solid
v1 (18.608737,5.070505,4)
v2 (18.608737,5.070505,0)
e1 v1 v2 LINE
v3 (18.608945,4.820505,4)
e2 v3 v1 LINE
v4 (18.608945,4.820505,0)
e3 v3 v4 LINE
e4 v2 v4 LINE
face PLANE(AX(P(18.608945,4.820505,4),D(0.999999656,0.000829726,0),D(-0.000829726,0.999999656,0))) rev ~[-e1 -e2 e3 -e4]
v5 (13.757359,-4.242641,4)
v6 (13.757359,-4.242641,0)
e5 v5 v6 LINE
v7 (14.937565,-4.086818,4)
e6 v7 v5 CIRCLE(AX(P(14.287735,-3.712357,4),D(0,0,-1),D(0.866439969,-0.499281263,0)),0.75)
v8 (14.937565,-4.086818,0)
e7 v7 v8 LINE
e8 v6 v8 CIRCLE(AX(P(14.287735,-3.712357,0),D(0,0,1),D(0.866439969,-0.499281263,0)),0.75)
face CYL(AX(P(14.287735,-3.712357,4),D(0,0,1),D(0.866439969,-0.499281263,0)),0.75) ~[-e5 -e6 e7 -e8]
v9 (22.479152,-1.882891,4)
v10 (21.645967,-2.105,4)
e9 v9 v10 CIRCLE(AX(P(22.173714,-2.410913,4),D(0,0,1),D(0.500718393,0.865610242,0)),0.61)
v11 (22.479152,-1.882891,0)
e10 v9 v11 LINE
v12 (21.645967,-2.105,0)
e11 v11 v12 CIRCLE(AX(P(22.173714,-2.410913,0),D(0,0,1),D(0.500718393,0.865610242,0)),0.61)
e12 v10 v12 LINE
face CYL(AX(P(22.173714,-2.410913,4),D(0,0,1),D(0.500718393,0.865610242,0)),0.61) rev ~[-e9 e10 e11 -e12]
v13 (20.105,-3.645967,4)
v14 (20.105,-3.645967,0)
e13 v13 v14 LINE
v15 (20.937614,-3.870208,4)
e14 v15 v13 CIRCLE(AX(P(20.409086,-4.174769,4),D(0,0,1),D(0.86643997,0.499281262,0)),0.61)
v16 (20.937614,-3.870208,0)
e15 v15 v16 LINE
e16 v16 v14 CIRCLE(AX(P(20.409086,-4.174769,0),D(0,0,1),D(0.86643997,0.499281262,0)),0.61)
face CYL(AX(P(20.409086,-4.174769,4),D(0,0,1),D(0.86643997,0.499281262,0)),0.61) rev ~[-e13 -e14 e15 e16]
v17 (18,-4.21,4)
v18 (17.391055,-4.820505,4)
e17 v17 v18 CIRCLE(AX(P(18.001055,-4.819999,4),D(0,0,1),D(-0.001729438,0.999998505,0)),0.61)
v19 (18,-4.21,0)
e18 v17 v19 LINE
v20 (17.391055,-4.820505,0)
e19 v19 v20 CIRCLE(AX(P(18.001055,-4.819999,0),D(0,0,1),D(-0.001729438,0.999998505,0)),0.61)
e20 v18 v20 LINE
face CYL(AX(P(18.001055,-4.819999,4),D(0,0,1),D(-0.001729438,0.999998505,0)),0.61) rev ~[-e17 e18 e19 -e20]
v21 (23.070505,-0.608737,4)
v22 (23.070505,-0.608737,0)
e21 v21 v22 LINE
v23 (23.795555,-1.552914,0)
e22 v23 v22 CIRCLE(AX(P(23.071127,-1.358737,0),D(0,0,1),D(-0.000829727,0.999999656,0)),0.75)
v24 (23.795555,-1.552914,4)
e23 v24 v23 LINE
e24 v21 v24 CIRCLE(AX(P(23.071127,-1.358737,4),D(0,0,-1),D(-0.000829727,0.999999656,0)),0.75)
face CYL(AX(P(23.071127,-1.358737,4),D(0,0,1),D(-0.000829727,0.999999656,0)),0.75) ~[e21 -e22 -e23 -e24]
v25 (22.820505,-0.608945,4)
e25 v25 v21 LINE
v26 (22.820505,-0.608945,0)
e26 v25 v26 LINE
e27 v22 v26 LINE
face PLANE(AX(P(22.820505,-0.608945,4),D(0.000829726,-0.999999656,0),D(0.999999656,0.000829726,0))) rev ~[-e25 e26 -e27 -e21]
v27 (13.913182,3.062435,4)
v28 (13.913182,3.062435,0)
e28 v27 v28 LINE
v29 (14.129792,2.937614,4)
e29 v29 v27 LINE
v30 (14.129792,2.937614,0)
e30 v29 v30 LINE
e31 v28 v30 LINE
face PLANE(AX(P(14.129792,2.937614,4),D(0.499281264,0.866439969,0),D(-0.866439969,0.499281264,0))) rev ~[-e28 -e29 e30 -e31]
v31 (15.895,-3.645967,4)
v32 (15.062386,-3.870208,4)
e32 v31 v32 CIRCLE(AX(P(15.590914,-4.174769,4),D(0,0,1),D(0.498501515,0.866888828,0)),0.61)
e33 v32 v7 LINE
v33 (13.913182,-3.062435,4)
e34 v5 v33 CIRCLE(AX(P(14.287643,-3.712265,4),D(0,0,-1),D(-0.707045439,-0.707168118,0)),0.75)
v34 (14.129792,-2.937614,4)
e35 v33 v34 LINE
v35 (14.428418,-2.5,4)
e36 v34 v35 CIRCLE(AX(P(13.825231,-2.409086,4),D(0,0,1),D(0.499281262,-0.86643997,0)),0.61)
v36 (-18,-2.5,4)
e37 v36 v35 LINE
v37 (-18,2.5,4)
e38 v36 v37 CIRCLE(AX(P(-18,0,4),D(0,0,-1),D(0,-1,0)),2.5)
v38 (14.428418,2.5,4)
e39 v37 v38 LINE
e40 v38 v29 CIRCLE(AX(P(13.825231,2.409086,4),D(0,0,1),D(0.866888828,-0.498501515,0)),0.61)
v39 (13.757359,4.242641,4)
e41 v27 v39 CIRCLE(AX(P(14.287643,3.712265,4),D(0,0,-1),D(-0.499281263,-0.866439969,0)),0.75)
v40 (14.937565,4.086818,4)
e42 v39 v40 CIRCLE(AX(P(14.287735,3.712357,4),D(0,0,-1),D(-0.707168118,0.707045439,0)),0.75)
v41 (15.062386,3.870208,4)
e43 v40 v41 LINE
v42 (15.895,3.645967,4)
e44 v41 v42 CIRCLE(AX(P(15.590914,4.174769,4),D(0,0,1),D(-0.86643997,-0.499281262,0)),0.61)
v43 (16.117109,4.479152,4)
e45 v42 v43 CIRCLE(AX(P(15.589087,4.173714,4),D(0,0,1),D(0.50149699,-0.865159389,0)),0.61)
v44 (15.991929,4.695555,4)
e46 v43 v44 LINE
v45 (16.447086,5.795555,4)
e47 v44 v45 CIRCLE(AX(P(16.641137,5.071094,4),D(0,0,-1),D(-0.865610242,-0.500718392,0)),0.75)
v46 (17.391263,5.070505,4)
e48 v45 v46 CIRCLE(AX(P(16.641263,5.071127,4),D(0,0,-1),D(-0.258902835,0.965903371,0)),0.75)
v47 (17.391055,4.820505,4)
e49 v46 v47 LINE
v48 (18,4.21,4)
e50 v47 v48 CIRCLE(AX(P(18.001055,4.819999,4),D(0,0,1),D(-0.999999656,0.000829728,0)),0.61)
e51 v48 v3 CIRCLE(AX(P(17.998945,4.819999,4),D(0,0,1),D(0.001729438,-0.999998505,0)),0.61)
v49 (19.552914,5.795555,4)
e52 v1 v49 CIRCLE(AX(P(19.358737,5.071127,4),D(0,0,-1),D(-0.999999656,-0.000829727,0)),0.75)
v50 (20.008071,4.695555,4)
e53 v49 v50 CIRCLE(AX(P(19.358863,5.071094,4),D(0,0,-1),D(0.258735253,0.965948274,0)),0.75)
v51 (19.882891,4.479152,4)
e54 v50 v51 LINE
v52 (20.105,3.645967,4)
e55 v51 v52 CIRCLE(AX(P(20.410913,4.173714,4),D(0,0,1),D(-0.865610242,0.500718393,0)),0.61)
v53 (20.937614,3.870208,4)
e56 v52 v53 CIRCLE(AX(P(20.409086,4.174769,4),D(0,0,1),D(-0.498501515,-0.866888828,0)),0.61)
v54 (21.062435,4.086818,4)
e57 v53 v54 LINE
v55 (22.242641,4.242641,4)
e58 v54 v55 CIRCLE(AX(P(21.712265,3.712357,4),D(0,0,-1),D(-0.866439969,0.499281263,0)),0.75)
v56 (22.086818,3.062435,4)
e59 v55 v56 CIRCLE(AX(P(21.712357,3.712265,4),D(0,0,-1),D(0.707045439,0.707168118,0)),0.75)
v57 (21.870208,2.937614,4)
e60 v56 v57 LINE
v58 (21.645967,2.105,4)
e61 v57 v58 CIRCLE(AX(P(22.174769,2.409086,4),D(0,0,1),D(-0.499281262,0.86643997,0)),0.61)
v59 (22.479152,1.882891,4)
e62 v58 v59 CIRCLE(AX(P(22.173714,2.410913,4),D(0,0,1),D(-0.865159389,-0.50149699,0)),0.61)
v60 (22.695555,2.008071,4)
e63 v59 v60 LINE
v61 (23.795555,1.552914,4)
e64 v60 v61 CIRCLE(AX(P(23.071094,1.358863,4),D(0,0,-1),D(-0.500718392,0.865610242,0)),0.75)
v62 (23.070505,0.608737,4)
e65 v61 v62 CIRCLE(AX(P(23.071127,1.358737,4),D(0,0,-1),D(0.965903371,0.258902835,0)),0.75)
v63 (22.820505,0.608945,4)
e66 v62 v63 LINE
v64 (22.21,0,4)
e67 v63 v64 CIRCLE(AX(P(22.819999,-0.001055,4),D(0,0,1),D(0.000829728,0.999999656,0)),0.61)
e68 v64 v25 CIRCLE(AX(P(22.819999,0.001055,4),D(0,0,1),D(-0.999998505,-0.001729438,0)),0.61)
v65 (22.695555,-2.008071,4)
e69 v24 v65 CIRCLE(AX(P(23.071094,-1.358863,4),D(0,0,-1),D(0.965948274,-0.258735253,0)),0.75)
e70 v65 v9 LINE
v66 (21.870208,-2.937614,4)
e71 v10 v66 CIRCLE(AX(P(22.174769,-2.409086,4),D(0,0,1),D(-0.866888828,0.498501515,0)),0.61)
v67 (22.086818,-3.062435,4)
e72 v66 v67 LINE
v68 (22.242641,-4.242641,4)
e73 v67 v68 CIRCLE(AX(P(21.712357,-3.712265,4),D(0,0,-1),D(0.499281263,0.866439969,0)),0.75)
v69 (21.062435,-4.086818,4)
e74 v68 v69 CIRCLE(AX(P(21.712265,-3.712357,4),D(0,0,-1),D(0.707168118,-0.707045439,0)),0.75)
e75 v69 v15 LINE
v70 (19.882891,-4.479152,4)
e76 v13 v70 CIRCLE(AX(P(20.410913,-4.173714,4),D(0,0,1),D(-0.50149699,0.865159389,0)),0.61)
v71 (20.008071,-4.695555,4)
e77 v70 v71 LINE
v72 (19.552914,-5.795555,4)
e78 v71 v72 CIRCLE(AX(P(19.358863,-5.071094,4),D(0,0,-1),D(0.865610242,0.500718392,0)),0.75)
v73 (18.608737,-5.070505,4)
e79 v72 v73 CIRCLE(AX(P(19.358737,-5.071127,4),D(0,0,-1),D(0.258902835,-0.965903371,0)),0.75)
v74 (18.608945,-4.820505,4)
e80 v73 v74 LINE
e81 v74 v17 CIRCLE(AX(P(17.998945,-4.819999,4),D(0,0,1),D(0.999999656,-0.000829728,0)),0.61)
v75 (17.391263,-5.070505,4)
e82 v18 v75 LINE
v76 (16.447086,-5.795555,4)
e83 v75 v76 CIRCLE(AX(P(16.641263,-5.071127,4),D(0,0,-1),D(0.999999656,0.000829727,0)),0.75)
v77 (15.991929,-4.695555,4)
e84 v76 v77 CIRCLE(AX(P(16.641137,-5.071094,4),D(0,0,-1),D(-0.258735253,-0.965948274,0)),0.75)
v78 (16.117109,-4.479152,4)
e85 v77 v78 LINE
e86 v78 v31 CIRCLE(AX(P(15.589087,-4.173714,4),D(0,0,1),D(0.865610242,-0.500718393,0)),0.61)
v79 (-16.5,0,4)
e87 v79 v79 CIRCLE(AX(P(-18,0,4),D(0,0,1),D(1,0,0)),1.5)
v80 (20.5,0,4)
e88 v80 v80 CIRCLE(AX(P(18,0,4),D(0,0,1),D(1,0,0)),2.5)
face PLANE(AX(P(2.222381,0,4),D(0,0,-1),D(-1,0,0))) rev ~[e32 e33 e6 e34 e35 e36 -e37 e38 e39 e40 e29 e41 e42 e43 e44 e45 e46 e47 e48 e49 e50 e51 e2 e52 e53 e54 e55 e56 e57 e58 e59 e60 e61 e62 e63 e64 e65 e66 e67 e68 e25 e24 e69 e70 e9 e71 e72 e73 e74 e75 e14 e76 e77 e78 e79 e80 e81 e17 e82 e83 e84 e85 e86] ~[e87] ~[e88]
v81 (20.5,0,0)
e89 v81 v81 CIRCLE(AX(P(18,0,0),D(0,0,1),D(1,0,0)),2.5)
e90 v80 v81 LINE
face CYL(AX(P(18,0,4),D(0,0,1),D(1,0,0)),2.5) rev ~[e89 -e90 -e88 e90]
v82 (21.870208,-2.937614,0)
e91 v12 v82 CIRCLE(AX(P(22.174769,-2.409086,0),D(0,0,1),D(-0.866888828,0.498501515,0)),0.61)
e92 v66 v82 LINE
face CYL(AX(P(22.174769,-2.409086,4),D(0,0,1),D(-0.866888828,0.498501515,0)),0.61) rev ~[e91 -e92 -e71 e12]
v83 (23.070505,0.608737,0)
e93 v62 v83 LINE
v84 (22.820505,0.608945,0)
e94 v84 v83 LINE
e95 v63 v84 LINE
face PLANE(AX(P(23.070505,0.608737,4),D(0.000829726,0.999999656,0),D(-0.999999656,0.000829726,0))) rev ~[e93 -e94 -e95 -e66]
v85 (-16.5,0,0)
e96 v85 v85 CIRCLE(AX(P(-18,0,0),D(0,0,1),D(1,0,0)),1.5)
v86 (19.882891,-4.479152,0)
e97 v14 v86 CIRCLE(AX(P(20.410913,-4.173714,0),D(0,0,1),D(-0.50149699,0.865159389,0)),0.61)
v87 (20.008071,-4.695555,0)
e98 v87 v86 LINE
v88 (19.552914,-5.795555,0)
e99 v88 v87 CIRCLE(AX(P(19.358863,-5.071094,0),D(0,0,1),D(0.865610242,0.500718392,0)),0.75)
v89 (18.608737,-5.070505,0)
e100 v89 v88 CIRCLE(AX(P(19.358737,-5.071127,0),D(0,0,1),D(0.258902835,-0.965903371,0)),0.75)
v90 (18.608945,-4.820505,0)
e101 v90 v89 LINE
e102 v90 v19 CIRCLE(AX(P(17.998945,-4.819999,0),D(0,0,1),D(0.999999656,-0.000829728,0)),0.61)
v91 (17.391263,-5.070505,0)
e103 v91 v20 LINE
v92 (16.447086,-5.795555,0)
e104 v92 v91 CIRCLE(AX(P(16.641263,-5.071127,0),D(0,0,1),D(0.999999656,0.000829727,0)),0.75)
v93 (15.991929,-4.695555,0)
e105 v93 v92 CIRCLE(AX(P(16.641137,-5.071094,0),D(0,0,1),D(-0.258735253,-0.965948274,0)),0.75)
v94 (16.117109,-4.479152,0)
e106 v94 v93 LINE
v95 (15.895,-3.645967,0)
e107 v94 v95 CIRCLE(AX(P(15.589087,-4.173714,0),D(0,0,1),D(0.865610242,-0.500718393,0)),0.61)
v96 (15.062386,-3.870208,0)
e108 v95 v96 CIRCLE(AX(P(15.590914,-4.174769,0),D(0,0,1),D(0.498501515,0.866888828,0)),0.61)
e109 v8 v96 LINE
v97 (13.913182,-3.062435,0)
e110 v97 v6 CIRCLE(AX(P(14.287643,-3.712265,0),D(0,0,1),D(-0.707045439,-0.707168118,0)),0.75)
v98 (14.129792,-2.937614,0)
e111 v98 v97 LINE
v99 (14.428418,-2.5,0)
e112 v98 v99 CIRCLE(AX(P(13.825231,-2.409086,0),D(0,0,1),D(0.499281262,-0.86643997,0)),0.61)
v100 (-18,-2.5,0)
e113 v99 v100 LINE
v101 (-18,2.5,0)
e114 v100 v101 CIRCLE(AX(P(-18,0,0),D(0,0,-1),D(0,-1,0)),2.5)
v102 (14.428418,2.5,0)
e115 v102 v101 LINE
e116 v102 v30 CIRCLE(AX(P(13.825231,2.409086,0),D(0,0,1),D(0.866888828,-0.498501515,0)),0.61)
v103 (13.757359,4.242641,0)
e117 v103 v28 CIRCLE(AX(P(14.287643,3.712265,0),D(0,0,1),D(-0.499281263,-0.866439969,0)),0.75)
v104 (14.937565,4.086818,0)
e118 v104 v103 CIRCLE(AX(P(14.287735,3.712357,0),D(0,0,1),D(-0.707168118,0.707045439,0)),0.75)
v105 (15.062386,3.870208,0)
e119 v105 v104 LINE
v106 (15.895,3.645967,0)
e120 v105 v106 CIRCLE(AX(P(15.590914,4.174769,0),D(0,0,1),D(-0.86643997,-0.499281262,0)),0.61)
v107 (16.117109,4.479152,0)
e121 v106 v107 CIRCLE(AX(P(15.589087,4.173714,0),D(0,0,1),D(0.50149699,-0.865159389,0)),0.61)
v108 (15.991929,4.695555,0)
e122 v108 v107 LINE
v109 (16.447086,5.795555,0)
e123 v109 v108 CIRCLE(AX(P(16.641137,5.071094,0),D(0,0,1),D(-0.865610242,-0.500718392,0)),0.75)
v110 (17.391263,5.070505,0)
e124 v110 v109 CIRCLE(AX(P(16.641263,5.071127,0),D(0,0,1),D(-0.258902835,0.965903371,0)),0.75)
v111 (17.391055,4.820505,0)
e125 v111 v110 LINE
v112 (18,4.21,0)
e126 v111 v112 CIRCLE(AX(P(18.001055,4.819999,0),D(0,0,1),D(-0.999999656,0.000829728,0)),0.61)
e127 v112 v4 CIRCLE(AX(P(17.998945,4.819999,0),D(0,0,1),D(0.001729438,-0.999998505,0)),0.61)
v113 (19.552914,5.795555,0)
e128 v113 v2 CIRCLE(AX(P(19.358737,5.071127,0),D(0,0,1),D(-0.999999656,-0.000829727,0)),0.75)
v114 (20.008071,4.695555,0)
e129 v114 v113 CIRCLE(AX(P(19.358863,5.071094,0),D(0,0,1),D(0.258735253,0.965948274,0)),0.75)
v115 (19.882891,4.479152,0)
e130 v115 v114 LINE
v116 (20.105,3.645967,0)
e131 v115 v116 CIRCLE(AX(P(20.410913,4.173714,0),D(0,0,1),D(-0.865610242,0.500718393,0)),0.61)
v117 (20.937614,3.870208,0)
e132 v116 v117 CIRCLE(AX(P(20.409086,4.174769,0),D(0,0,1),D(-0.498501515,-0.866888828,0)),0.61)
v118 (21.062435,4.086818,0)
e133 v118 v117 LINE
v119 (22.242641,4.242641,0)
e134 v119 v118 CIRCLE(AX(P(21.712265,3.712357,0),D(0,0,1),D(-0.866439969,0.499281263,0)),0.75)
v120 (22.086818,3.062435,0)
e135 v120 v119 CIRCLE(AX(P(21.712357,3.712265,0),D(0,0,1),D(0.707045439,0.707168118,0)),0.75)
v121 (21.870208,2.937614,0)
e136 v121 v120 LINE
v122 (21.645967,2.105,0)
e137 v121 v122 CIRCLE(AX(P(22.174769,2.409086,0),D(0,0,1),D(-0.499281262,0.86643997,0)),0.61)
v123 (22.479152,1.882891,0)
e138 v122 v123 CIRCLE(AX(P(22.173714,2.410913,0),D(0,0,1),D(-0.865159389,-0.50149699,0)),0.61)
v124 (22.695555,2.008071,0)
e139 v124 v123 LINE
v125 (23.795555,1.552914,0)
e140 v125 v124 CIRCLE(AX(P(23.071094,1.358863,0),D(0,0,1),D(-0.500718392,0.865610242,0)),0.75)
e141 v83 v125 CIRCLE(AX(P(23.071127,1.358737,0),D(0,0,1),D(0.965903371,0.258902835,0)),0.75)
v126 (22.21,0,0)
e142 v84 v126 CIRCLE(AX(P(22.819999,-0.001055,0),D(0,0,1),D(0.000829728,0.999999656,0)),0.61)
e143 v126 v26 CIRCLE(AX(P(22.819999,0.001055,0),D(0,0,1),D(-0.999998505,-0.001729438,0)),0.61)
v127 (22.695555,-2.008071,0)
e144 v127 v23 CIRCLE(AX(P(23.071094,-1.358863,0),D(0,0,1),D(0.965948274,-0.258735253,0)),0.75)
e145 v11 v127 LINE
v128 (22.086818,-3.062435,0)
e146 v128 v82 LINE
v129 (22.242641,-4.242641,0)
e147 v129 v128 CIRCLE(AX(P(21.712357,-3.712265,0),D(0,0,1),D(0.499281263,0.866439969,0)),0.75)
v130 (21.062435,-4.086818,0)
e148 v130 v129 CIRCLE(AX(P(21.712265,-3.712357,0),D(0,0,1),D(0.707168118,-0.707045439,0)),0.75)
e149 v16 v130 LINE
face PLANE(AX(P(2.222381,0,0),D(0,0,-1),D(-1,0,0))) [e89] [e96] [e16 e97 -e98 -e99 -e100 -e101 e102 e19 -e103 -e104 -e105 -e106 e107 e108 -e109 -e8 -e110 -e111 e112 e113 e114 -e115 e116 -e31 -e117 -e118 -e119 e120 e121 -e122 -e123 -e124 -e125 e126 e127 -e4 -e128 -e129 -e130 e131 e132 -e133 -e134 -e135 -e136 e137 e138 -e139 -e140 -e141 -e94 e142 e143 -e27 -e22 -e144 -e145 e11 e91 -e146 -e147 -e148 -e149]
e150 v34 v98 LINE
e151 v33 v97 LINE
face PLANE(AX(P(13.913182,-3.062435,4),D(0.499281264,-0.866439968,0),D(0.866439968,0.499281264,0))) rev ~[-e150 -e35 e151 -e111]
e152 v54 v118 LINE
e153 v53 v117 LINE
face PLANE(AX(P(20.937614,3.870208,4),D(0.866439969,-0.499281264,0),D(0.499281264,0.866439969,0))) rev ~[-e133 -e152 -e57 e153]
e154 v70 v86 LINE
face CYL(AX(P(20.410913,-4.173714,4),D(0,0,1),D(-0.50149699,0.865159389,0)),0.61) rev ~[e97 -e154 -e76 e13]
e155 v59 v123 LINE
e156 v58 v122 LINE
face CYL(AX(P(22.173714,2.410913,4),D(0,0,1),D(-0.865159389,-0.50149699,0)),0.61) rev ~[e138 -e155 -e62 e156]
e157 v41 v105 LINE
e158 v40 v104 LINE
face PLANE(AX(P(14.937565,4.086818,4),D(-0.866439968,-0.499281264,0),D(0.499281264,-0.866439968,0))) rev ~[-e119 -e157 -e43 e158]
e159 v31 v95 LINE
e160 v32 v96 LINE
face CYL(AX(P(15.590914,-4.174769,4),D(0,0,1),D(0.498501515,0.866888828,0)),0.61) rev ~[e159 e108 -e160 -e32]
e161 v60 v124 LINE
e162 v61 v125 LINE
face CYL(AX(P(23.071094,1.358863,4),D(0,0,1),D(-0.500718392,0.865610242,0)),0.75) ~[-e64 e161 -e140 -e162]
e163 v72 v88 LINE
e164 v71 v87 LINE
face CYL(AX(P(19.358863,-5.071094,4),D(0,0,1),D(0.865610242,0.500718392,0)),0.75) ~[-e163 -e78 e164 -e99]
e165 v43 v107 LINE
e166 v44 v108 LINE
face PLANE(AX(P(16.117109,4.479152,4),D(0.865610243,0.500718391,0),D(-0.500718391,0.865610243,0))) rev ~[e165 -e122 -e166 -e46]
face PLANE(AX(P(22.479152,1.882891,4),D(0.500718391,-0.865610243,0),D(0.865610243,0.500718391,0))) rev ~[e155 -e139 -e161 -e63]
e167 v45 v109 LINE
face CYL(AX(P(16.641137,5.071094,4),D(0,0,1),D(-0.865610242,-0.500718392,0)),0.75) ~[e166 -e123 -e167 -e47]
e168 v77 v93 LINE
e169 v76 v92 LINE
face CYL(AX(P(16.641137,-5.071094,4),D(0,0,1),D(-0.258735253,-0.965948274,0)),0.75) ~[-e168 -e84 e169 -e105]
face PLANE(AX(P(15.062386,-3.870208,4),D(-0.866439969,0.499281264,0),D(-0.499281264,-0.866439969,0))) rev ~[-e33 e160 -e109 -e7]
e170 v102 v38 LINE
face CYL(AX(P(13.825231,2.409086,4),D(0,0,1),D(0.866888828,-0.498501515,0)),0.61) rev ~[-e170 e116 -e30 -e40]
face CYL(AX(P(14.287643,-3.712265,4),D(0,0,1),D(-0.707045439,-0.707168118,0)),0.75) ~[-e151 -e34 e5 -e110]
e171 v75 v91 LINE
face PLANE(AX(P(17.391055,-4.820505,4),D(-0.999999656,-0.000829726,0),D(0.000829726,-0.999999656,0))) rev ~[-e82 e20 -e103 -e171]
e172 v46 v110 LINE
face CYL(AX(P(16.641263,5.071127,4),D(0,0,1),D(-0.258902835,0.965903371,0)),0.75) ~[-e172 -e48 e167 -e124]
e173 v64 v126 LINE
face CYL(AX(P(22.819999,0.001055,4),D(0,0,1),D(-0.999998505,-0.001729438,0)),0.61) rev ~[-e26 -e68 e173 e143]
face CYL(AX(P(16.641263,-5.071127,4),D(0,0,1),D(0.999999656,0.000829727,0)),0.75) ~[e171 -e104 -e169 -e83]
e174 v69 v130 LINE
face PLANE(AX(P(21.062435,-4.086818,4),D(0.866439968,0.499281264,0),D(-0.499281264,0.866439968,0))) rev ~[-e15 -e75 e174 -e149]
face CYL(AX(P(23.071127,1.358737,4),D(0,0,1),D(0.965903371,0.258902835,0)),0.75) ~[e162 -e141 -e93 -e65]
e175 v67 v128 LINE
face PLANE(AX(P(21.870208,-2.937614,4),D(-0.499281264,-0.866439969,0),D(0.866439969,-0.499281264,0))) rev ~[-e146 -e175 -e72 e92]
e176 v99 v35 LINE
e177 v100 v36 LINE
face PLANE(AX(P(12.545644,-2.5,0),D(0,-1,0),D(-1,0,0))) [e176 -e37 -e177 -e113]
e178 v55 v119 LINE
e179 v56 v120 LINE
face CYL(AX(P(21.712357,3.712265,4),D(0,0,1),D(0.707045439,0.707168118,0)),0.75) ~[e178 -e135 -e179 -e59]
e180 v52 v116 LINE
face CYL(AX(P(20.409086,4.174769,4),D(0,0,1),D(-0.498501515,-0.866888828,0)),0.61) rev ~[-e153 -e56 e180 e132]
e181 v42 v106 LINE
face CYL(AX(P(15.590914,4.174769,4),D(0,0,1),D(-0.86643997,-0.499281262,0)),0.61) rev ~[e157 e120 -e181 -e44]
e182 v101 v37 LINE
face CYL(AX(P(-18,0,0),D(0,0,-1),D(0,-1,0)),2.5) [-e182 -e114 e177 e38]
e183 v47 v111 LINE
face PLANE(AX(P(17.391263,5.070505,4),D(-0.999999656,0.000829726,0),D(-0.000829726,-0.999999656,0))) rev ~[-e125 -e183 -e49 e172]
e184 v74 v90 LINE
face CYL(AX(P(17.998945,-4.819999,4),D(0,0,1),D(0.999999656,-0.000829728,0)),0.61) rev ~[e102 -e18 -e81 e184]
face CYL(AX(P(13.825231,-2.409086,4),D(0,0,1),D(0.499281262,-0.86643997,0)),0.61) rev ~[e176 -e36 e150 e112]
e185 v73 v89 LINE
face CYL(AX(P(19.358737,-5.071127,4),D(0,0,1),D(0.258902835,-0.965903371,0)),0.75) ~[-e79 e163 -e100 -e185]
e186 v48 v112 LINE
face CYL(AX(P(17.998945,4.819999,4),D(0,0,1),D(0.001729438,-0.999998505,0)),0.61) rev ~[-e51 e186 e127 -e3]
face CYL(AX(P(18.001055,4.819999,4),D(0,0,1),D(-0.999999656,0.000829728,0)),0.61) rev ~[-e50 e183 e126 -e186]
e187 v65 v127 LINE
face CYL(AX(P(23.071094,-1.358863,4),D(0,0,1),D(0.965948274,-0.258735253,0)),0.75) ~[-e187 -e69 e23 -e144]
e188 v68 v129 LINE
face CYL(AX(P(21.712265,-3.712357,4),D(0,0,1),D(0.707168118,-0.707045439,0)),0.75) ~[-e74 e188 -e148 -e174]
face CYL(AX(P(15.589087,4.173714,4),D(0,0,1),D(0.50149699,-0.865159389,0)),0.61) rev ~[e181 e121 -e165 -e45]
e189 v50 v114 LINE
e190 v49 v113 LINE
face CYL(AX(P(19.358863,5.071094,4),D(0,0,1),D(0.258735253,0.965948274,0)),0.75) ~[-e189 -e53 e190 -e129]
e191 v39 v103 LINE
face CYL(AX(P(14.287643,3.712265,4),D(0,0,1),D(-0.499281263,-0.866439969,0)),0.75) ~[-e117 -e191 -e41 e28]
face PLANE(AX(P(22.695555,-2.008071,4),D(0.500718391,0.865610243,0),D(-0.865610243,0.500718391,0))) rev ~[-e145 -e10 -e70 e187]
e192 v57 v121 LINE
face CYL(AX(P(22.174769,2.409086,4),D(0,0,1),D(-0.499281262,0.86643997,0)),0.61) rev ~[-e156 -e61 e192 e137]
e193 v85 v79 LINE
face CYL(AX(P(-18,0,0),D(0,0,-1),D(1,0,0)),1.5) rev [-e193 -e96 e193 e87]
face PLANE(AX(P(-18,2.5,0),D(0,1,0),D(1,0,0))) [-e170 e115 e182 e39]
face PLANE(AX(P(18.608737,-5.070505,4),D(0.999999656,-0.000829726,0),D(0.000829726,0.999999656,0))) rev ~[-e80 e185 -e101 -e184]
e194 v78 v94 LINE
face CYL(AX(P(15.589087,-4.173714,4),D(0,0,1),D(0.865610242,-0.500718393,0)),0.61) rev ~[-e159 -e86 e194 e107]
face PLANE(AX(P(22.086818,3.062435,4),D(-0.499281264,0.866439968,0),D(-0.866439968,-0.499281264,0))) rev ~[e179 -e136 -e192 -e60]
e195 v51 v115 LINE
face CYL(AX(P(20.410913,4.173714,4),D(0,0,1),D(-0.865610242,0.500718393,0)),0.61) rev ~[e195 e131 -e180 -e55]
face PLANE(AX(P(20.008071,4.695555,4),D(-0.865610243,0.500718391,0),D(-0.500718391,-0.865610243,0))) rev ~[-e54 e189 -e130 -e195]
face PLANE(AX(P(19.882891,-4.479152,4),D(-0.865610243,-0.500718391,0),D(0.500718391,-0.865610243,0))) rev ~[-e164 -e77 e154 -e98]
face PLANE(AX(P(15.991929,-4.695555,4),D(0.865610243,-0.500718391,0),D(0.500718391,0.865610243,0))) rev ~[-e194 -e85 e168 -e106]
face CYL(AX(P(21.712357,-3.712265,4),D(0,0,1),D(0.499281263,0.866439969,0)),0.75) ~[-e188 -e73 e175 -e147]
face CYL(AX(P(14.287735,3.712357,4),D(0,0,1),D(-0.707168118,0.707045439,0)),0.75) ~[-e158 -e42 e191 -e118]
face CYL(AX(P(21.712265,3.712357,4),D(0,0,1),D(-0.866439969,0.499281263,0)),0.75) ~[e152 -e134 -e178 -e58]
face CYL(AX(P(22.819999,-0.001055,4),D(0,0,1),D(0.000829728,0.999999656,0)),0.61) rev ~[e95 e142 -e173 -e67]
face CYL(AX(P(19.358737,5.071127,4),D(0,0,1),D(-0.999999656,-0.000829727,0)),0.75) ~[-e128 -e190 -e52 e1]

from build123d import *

# Parameters (mm, degrees)
SKETCH1_R           = 1.5
BOSS_EXTRUDE1_DEPTH = 4
CUT_EXTRUDE2_DEPTH  = 5
CIRPATTERN1_COUNT   = 12
SKETCH3_W           = 7.863082298
SKETCH3_H           = 5
BOSS_EXTRUDE2_DEPTH = 4
SKETCH4_R           = 2.5
CUT_EXTRUDE3_DEPTH  = 5


with BuildPart() as part:
    # Sketch1 → Boss-Extrude1 (new body)
    with BuildSketch(Plane.XY):
        with BuildLine():
            Line((-18, 2.5), (12.545643943, 2.5))
            ThreePointArc((12.545643943, 2.5), (24, 0), (12.545643943, -2.5))
            Line((12.545643943, -2.5), (-18, -2.5))
            ThreePointArc((-18, -2.5), (-20.5, 0), (-18, 2.5))
        make_face()
        with Locations((-18, 0)):
            Circle(SKETCH1_R, mode=Mode.SUBTRACT)
    extrude(amount=BOSS_EXTRUDE1_DEPTH)

    # Sketch2 → Cut-Extrude2 (cut, through all)
    with BuildSketch(Plane.XY.offset(4)):
        with BuildLine():
            Line((20.008070513, 4.695554958), (19.882890915, 4.479152397))
            ThreePointArc((19.882890915, 4.479152397), (19.821496871, 4.016588638), (20.105, 3.64596695))
            ThreePointArc((20.105, 3.64596695), (20.567719361, 3.585756883), (20.937614306, 3.870207564))
            Line((20.937614306, 3.870207564), (21.062434622, 4.086817556))
            ThreePointArc((21.062434622, 4.086817556), (21.614093727, 4.455903836), (22.242640687, 4.242640687))
            ThreePointArc((22.242640687, 4.242640687), (21.17938524, 5.506856773), (19.552914271, 5.795554958))
            ThreePointArc((19.552914271, 5.795554958), (20.051879055, 5.357848898), (20.008070513, 4.695554958))
        make_face()
    cut_extrude2 = extrude(amount=-CUT_EXTRUDE2_DEPTH, mode=Mode.SUBTRACT)

    # CirPattern1: Cut-Extrude2 ×12 about axis
    cirpattern1_axis = Axis((18, 0, 0), (0, 0, 1))
    for i in range(1, CIRPATTERN1_COUNT):
        add(cut_extrude2.rotate(cirpattern1_axis, i * 360 / CIRPATTERN1_COUNT), mode=Mode.SUBTRACT)

    # Sketch3 → Boss-Extrude2 (add)
    with BuildSketch(Plane.XY.offset(4)):
        with Locations((12.029323846, 0)):
            Rectangle(SKETCH3_W, SKETCH3_H)
    extrude(amount=-BOSS_EXTRUDE2_DEPTH)

    # Sketch4 → Cut-Extrude3 (cut, through all)
    with BuildSketch(Plane.XY.offset(4)):
        with Locations((18, 0)):
            Circle(SKETCH4_R)
    extrude(amount=-CUT_EXTRUDE3_DEPTH, mode=Mode.SUBTRACT)


solid = part.part
